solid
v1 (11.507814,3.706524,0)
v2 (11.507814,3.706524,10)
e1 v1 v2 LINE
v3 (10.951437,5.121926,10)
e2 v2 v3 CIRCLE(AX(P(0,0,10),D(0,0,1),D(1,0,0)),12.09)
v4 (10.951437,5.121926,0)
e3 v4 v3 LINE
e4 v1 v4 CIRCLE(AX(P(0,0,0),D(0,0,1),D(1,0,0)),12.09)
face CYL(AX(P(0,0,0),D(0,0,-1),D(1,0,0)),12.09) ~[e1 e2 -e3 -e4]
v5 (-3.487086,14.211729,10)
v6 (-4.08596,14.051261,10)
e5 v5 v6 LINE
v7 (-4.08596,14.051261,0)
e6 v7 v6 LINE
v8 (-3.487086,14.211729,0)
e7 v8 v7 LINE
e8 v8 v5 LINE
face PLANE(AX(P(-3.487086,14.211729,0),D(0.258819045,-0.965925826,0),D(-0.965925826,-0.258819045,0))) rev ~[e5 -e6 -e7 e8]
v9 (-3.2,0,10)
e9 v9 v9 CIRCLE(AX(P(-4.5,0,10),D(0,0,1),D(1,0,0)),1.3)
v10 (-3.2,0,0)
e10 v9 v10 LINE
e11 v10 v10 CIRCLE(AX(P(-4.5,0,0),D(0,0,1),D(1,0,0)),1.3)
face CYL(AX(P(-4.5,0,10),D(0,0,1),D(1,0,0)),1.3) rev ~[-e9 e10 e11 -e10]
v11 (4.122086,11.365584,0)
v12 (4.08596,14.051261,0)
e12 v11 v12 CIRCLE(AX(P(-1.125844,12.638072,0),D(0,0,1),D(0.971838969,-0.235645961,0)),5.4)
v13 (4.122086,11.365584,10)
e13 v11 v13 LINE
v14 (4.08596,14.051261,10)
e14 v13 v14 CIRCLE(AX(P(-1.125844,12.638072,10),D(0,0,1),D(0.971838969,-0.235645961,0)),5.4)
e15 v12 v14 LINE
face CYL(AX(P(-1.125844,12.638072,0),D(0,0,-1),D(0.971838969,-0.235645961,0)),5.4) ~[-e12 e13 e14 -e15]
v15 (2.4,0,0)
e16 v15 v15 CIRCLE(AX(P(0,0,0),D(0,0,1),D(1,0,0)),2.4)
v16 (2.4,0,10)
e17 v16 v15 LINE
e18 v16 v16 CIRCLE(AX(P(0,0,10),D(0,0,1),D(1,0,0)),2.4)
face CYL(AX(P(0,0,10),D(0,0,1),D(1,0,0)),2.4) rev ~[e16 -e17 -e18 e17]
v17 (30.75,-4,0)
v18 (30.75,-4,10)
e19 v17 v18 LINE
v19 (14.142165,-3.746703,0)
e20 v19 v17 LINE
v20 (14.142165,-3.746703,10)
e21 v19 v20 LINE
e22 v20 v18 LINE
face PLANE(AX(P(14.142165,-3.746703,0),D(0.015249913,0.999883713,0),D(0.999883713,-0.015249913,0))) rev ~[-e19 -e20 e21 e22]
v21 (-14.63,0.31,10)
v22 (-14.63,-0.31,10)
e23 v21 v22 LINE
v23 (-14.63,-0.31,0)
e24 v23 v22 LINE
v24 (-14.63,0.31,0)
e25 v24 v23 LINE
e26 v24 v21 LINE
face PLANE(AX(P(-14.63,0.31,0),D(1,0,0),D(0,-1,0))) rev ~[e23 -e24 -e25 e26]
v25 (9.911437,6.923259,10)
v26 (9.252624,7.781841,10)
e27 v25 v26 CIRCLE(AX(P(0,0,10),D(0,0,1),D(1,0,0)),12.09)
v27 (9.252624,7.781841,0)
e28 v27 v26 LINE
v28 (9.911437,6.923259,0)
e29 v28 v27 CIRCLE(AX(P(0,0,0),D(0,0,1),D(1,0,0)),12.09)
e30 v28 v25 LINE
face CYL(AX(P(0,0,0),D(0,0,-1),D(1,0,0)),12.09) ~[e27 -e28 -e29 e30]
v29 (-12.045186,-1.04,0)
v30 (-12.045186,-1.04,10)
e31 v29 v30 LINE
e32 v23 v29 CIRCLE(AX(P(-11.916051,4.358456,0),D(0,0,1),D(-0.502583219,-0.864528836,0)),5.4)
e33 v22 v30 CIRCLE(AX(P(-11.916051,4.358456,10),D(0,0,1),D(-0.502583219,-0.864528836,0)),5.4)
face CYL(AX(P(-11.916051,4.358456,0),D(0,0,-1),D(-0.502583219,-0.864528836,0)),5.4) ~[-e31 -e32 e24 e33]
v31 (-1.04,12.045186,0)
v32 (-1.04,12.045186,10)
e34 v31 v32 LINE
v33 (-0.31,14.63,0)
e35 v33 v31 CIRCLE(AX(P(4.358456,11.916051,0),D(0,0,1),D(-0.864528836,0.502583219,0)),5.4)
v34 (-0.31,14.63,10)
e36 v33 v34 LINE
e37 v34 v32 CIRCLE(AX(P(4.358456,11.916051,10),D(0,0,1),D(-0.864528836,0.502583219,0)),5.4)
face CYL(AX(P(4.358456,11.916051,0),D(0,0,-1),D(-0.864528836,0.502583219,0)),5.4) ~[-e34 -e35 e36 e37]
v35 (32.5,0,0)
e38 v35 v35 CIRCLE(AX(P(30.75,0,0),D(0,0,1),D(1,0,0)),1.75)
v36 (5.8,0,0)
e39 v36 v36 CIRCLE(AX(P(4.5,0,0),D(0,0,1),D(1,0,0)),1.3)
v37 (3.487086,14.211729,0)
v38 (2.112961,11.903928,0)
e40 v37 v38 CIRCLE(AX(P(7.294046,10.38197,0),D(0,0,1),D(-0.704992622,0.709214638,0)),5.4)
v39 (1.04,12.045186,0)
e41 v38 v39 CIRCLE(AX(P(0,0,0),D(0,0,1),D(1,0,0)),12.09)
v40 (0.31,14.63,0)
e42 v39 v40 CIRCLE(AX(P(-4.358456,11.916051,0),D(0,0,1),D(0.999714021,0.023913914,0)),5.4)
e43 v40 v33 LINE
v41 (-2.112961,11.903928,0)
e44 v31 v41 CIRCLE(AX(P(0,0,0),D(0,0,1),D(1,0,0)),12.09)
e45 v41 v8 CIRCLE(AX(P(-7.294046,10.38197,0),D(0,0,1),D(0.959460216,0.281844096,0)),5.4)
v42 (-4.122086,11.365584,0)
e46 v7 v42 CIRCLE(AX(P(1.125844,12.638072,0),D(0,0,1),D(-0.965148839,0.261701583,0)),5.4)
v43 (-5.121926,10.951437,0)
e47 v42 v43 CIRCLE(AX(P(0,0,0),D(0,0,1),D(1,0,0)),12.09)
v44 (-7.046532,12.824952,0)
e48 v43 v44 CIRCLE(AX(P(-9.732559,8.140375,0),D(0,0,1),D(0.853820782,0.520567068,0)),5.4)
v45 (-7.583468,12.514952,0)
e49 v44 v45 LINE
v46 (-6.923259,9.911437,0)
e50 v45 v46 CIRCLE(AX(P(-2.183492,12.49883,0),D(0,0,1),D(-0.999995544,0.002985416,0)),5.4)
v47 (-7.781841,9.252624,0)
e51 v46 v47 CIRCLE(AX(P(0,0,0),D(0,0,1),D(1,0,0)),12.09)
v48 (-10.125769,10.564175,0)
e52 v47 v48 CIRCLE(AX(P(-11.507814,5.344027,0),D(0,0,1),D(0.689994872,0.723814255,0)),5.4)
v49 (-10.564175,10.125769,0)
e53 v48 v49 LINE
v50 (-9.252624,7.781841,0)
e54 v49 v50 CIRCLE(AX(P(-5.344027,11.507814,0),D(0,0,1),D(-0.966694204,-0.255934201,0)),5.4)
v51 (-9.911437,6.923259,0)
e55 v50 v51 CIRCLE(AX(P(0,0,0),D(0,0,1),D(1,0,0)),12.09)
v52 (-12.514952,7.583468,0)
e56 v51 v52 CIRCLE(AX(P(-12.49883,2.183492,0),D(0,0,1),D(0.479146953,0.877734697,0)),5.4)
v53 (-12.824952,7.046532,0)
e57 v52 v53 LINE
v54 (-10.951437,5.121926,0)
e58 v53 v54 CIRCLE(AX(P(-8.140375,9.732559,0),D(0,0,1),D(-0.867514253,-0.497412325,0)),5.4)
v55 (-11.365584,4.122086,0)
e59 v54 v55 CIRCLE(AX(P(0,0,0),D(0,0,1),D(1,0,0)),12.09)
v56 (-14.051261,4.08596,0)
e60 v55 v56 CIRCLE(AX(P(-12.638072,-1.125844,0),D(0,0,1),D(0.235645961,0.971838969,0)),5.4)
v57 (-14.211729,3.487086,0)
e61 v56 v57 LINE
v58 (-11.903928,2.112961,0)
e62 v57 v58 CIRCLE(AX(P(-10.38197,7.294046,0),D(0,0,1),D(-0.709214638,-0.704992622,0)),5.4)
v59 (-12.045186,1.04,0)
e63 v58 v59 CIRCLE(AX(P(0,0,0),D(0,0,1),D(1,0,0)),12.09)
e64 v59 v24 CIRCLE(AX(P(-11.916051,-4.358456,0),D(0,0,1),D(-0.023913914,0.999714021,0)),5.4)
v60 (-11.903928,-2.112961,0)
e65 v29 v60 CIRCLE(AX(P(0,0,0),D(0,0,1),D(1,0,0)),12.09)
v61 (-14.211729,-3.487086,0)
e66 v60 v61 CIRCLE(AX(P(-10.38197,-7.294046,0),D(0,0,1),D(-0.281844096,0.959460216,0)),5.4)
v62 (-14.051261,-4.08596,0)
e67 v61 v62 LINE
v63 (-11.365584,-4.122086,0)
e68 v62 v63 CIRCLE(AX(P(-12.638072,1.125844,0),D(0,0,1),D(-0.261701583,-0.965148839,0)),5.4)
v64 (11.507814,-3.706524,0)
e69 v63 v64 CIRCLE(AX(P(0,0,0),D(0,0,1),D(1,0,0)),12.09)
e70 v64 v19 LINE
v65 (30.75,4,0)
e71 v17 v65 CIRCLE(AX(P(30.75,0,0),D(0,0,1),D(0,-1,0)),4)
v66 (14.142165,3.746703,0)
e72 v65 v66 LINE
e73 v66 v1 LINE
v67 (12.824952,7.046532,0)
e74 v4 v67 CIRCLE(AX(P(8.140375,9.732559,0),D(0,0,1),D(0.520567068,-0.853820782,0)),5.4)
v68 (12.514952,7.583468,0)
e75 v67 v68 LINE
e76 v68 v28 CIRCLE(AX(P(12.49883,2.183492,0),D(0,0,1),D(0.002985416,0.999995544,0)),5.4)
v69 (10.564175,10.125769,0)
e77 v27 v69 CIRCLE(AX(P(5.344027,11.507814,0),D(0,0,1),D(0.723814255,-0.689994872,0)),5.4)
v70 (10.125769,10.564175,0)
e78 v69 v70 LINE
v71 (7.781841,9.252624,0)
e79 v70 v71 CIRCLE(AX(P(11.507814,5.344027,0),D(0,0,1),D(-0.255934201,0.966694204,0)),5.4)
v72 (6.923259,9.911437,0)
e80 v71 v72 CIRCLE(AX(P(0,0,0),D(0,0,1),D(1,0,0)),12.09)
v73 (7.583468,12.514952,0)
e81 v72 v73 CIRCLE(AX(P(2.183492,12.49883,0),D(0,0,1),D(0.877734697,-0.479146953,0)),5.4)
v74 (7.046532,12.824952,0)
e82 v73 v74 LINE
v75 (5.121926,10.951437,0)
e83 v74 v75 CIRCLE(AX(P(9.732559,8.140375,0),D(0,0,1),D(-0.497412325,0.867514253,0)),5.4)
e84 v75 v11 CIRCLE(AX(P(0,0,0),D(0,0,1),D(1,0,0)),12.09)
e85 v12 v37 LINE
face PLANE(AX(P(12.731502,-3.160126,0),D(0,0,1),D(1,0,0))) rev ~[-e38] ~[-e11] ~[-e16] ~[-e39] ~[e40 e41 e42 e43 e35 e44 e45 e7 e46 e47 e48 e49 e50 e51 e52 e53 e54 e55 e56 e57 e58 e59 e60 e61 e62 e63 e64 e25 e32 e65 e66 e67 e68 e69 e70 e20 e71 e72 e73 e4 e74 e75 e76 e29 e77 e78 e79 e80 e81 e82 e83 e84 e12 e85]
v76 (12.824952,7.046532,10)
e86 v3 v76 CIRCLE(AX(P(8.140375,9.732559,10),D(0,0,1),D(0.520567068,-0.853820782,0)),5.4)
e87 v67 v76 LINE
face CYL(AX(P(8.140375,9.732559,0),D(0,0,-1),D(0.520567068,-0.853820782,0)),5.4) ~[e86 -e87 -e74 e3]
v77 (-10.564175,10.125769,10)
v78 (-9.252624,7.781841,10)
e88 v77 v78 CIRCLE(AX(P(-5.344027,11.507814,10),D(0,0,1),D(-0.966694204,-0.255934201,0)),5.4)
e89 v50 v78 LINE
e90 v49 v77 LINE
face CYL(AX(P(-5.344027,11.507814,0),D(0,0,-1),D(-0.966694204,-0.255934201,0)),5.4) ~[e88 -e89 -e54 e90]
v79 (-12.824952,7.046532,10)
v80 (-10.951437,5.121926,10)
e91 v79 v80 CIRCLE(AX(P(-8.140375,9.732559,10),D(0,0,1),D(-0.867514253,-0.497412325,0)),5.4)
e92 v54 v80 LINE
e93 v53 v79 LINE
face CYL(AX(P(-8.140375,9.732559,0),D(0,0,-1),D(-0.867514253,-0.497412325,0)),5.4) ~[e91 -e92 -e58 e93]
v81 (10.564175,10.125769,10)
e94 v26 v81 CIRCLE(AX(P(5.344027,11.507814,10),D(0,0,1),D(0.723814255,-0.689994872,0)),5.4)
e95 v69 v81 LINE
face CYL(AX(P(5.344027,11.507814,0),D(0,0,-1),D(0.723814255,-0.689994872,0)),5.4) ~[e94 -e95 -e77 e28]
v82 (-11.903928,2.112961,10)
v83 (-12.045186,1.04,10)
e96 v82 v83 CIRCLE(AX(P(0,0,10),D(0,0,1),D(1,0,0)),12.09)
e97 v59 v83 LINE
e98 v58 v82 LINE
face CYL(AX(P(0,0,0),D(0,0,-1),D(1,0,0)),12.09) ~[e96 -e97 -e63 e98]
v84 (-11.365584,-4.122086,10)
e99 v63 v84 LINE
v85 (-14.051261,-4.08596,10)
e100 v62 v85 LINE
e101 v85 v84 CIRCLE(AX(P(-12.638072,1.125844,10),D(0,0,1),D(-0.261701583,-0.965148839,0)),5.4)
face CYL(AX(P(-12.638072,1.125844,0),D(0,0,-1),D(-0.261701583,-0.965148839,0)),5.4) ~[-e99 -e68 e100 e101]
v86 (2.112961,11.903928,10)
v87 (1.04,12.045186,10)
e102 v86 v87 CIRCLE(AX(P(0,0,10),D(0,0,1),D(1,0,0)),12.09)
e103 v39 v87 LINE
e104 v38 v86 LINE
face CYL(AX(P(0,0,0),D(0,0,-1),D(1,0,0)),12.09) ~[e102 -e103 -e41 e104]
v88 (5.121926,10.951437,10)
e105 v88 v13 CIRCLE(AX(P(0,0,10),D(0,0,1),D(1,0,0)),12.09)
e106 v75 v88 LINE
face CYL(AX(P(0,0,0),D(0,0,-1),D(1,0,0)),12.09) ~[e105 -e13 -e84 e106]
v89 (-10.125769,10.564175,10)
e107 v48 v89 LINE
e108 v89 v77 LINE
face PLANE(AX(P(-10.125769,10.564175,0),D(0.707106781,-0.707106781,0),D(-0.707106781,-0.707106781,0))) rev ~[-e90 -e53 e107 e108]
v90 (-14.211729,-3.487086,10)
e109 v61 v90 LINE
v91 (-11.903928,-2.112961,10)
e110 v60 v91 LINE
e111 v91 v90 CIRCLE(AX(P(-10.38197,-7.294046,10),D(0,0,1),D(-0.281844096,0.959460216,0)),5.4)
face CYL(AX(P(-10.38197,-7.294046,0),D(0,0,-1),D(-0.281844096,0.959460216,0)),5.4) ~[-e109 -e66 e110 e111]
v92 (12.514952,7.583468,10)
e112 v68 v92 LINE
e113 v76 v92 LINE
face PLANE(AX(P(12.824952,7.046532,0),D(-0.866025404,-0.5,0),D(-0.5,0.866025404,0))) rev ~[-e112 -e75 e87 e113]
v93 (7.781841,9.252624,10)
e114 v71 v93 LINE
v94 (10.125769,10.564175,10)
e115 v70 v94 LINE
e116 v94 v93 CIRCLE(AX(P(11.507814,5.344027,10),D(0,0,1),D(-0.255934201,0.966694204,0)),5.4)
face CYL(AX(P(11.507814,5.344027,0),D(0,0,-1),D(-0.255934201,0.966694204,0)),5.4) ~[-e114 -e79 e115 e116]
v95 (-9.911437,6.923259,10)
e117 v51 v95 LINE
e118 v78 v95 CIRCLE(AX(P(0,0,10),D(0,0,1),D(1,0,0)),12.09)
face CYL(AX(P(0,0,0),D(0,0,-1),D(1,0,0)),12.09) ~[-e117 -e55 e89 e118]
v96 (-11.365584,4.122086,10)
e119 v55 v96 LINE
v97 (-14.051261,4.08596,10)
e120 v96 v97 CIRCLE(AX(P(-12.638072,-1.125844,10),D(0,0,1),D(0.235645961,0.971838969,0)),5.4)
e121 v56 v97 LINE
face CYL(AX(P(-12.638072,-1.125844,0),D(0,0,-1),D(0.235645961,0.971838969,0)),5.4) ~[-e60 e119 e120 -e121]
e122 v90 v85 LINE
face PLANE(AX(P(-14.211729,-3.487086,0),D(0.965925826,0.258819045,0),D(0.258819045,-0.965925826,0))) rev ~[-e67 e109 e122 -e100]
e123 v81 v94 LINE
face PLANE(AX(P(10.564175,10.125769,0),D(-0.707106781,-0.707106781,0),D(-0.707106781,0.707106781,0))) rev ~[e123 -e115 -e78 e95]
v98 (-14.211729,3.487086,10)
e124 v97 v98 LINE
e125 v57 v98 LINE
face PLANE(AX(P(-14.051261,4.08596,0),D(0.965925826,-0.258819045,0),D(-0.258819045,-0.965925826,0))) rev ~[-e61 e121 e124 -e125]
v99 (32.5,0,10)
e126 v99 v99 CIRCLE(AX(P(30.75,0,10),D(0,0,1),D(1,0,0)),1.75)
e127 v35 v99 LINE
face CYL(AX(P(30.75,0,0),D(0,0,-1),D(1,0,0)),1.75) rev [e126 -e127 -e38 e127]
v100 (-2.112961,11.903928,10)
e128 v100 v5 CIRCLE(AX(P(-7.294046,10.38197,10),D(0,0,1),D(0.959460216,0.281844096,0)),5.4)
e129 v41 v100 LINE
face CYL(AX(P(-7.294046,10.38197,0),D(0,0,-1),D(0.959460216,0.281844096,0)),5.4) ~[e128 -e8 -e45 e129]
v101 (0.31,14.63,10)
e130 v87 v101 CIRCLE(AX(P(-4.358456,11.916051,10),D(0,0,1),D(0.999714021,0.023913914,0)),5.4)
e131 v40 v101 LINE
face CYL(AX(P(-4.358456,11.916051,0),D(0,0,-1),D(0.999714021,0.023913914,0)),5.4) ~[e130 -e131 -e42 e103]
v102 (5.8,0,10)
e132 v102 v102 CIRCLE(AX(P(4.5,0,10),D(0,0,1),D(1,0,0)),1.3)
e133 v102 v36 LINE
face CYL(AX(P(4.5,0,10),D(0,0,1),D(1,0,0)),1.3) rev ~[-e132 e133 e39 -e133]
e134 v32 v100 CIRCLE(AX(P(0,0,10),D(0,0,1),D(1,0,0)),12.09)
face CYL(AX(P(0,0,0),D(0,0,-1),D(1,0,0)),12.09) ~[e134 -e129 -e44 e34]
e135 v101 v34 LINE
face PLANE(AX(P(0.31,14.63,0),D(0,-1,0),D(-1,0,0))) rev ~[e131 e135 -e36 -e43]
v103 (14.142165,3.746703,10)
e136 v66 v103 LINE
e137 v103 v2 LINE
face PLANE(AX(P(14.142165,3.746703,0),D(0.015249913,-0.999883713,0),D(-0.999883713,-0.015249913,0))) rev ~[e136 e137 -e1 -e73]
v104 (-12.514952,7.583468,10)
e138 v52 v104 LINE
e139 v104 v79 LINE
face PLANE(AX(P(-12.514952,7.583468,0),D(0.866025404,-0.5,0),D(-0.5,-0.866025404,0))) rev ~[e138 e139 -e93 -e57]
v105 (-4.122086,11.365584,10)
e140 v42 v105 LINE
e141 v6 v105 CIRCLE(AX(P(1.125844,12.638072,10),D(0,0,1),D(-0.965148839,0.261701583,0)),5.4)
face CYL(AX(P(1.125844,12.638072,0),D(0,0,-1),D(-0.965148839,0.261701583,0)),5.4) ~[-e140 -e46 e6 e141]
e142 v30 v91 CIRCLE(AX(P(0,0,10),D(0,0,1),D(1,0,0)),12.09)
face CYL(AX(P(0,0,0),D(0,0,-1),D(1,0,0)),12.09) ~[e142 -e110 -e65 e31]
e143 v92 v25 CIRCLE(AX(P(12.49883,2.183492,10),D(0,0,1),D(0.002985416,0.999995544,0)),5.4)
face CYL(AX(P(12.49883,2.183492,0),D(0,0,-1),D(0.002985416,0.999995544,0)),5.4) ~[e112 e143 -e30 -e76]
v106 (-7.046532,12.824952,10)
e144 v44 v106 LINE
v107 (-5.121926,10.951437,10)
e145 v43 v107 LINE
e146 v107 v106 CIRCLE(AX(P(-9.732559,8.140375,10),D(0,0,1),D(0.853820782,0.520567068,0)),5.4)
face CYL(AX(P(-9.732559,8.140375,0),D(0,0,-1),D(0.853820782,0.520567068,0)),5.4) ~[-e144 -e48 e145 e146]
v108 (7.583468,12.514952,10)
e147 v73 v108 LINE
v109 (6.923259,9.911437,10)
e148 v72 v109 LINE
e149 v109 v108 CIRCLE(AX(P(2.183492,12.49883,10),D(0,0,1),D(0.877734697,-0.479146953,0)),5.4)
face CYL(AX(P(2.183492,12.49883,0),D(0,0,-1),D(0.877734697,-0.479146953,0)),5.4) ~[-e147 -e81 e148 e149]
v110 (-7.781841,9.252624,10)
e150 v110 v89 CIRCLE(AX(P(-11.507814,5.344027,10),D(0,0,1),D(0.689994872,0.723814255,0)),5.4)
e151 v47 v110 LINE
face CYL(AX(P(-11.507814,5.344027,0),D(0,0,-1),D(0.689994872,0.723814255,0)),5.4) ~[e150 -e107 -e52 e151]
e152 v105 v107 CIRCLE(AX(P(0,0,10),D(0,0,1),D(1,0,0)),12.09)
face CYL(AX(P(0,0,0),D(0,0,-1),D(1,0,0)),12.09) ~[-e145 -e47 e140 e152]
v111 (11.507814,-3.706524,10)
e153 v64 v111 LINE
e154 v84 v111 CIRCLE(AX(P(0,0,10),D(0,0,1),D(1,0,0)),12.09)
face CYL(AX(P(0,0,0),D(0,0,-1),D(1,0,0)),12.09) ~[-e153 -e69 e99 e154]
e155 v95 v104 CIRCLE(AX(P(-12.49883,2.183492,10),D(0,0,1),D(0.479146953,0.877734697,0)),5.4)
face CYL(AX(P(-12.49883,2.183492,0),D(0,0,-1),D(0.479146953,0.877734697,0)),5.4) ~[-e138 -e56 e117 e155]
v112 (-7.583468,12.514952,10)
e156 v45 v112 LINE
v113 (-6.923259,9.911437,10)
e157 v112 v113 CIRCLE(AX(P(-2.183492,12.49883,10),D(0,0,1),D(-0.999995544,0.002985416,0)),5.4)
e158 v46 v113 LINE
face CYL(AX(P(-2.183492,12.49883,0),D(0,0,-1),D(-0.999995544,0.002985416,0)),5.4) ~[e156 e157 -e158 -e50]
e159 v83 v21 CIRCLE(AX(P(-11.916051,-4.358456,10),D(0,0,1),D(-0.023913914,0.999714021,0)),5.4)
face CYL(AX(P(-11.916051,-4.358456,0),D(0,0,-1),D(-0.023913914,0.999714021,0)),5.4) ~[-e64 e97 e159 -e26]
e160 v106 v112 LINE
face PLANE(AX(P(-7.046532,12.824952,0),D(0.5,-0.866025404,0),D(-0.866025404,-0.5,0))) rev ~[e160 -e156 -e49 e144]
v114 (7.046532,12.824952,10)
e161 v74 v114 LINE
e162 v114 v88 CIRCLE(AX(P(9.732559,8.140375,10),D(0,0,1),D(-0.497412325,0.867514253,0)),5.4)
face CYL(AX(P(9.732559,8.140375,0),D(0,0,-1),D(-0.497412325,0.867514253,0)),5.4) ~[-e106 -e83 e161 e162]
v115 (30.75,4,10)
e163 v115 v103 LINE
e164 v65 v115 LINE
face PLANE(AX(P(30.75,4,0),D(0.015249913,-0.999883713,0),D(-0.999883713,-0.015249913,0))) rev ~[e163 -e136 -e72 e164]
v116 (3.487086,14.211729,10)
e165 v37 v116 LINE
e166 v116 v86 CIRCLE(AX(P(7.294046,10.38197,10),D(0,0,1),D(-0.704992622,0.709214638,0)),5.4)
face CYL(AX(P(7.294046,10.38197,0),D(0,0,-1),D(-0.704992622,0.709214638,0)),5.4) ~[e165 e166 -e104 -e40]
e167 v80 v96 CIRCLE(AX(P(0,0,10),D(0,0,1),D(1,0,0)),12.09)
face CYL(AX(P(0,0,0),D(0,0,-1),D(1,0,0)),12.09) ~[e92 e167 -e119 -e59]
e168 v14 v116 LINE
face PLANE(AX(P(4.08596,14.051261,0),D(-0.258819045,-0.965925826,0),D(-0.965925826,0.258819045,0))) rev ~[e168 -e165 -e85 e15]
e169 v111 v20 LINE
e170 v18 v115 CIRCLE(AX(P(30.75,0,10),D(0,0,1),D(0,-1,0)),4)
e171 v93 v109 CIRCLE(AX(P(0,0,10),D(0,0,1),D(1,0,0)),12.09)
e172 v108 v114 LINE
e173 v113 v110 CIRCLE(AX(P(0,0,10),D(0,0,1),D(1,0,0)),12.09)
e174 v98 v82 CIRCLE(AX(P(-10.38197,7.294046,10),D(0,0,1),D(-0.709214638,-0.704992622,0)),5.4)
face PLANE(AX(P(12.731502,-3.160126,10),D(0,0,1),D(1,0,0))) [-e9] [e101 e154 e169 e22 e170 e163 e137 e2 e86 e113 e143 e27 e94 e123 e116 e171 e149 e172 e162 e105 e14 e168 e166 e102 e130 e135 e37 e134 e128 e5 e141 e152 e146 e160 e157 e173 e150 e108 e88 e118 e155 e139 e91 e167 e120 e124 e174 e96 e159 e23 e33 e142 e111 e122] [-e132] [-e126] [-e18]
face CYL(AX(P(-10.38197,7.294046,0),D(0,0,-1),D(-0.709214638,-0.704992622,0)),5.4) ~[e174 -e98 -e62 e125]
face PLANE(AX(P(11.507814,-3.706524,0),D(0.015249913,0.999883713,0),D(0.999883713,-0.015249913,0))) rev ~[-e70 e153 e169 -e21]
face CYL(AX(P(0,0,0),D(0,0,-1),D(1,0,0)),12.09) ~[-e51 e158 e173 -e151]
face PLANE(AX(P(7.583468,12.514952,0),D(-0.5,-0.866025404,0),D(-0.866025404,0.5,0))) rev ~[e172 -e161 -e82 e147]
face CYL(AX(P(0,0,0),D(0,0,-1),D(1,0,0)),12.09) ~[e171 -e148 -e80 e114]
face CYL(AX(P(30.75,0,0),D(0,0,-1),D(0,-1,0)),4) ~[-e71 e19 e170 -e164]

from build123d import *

# Parameters (mm, degrees)
SKETCH1_R           = 12.09
SKETCH1_R_2         = 1.75
BOSS_EXTRUDE1_DEPTH = 10
SKETCH2_R           = 2.4
SKETCH2_R_2         = 1.3
CUT_EXTRUDE1_DEPTH  = 40.007683858


with BuildPart() as part:
    # Sketch1 → Boss-Extrude1 (new body)
    # profile 1 of 17: a face of its own
    with BuildSketch(Plane.XY):
        Circle(SKETCH1_R)
        Circle(SKETCH1_R_2, mode=Mode.SUBTRACT)
    # profile 2 of 17: a face of its own
    with BuildSketch(Plane.XY):
        with BuildLine():
            Line((30.75, 4), (14.142164609, 3.746702505))
            Line((14.142164609, 3.746702505), (14.211728743, 3.487085624))
            ThreePointArc((14.211728743, 3.487085624), (13.144626757, 2.65424773), (11.903927815, 2.112960617))
            ThreePointArc((11.903927815, 2.112960617), (11.986568374, 1.578061664), (12.04518576, 1.04))
            ThreePointArc((12.04518576, 1.04), (13.383704325, 0.838273314), (14.63, 0.31))
            Line((14.63, 0.31), (14.63, -0.31))
            ThreePointArc((14.63, -0.31), (13.383704325, -0.838273314), (12.04518576, -1.04))
            ThreePointArc((12.04518576, -1.04), (11.986568374, -1.578061664), (11.903927815, -2.112960617))
            ThreePointArc((11.903927815, -2.112960617), (13.144626757, -2.65424773), (14.211728743, -3.487085624))
            Line((14.211728743, -3.487085624), (14.142164609, -3.746702505))
            Line((14.142164609, -3.746702505), (30.75, -4))
            ThreePointArc((30.75, -4), (34.75, 0), (30.75, 4))
        make_face()
        with Locations((30.75, 0)):
            Circle(SKETCH1_R_2, mode=Mode.SUBTRACT)
    # profile 3 of 17: a face of its own
    with BuildSketch(Plane.XY):
        with BuildLine():
            ThreePointArc((-11.365584201, -4.122086336), (-11.67804324, -3.129122255), (-11.903927815, -2.112960617))
            ThreePointArc((-11.903927815, -2.112960617), (-13.144626757, -2.65424773), (-14.211728743, -3.487085624))
            Line((-14.211728743, -3.487085624), (-14.051260935, -4.085959636))
            ThreePointArc((-14.051260935, -4.085959636), (-12.71070456, -4.273667417), (-11.365584201, -4.122086336))
        make_face()
    # profile 4 of 17: a face of its own
    with BuildSketch(Plane.XY):
        with BuildLine():
            ThreePointArc((-12.04518576, -1.04), (-12.09, 0), (-12.04518576, 1.04))
            ThreePointArc((-12.04518576, 1.04), (-13.383704325, 0.838273314), (-14.63, 0.31))
            Line((-14.63, 0.31), (-14.63, -0.31))
            ThreePointArc((-14.63, -0.31), (-13.383704325, -0.838273314), (-12.04518576, -1.04))
        make_face()
    # profile 5 of 17: a face of its own
    with BuildSketch(Plane.XY):
        with BuildLine():
            ThreePointArc((-11.903927815, 2.112960617), (-11.67804324, 3.129122255), (-11.365584201, 4.122086336))
            ThreePointArc((-11.365584201, 4.122086336), (-12.71070456, 4.273667417), (-14.051260935, 4.085959636))
            Line((-14.051260935, 4.085959636), (-14.211728743, 3.487085624))
            ThreePointArc((-14.211728743, 3.487085624), (-13.144626757, 2.65424773), (-11.903927815, 2.112960617))
        make_face()
    # profile 6 of 17: a face of its own
    with BuildSketch(Plane.XY):
        with BuildLine():
            ThreePointArc((-10.951436862, 5.12192646), (-10.470247132, 6.045), (-9.911436862, 6.9232593))
            ThreePointArc((-9.911436862, 6.9232593), (-11.171491285, 7.417818147), (-12.514951657, 7.583467875))
            Line((-12.514951657, 7.583467875), (-12.824951657, 7.046532125))
            ThreePointArc((-12.824951657, 7.046532125), (-12.009764599, 5.965886177), (-10.951436862, 5.12192646))
        make_face()
    # profile 7 of 17: a face of its own
    with BuildSketch(Plane.XY):
        with BuildLine():
            ThreePointArc((-9.252623584, 7.781841479), (-8.548920985, 8.548920985), (-7.781841479, 9.252623584))
            ThreePointArc((-7.781841479, 9.252623584), (-8.870959341, 10.05645683), (-10.125769107, 10.564175311))
            Line((-10.125769107, 10.564175311), (-10.564175311, 10.125769107))
            ThreePointArc((-10.564175311, 10.125769107), (-10.05645683, 8.870959341), (-9.252623584, 7.781841479))
        make_face()
    # profile 8 of 17: a face of its own
    with BuildSketch(Plane.XY):
        with BuildLine():
            ThreePointArc((-6.9232593, 9.911436862), (-6.045, 10.470247132), (-5.12192646, 10.951436862))
            ThreePointArc((-5.12192646, 10.951436862), (-5.965886177, 12.009764599), (-7.046532125, 12.824951657))
            Line((-7.046532125, 12.824951657), (-7.583467875, 12.514951657))
            ThreePointArc((-7.583467875, 12.514951657), (-7.417818147, 11.171491285), (-6.9232593, 9.911436862))
        make_face()
    # profile 9 of 17: a face of its own
    with BuildSketch(Plane.XY):
        with BuildLine():
            ThreePointArc((-4.122086336, 11.365584201), (-3.129122255, 11.67804324), (-2.112960617, 11.903927815))
            ThreePointArc((-2.112960617, 11.903927815), (-2.65424773, 13.144626757), (-3.487085624, 14.211728743))
            Line((-3.487085624, 14.211728743), (-4.085959636, 14.051260935))
            ThreePointArc((-4.085959636, 14.051260935), (-4.273667417, 12.71070456), (-4.122086336, 11.365584201))
        make_face()
    # profile 10 of 17: a face of its own
    with BuildSketch(Plane.XY):
        with BuildLine():
            Line((0.31, 14.63), (-0.31, 14.63))
            ThreePointArc((-0.31, 14.63), (-0.838273314, 13.383704325), (-1.04, 12.04518576))
            ThreePointArc((-1.04, 12.04518576), (0, 12.09), (1.04, 12.04518576))
            ThreePointArc((1.04, 12.04518576), (0.838273314, 13.383704325), (0.31, 14.63))
        make_face()
    # profile 11 of 17: a face of its own
    with BuildSketch(Plane.XY):
        with BuildLine():
            ThreePointArc((3.487085624, 14.211728743), (2.65424773, 13.144626757), (2.112960617, 11.903927815))
            ThreePointArc((2.112960617, 11.903927815), (3.129122255, 11.67804324), (4.122086336, 11.365584201))
            ThreePointArc((4.122086336, 11.365584201), (4.273667417, 12.71070456), (4.085959636, 14.051260935))
            Line((4.085959636, 14.051260935), (3.487085624, 14.211728743))
        make_face()
    # profile 12 of 17: a face of its own
    with BuildSketch(Plane.XY):
        with BuildLine():
            ThreePointArc((7.046532125, 12.824951657), (5.965886177, 12.009764599), (5.12192646, 10.951436862))
            ThreePointArc((5.12192646, 10.951436862), (6.045, 10.470247132), (6.9232593, 9.911436862))
            ThreePointArc((6.9232593, 9.911436862), (7.417818147, 11.171491285), (7.583467875, 12.514951657))
            Line((7.583467875, 12.514951657), (7.046532125, 12.824951657))
        make_face()
    # profile 13 of 17: a face of its own
    with BuildSketch(Plane.XY):
        with BuildLine():
            ThreePointArc((10.125769107, 10.564175311), (8.870959341, 10.05645683), (7.781841479, 9.252623584))
            ThreePointArc((7.781841479, 9.252623584), (8.548920985, 8.548920985), (9.252623584, 7.781841479))
            ThreePointArc((9.252623584, 7.781841479), (10.05645683, 8.870959341), (10.564175311, 10.125769107))
            Line((10.564175311, 10.125769107), (10.125769107, 10.564175311))
        make_face()
    # profile 14 of 17: a face of its own
    with BuildSketch(Plane.XY):
        with BuildLine():
            ThreePointArc((12.514951657, 7.583467875), (11.171491285, 7.417818147), (9.911436862, 6.9232593))
            ThreePointArc((9.911436862, 6.9232593), (10.470247132, 6.045), (10.951436862, 5.12192646))
            ThreePointArc((10.951436862, 5.12192646), (12.009764599, 5.965886177), (12.824951657, 7.046532125))
            Line((12.824951657, 7.046532125), (12.514951657, 7.583467875))
        make_face()
    # profile 15 of 17: a face of its own
    with BuildSketch(Plane.XY):
        with BuildLine():
            Line((14.142164609, 3.746702505), (11.507813792, 3.706524213))
            ThreePointArc((11.507813792, 3.706524213), (11.732956682, 2.916475184), (11.903927815, 2.112960617))
            ThreePointArc((11.903927815, 2.112960617), (13.144626757, 2.65424773), (14.211728743, 3.487085624))
            Line((14.211728743, 3.487085624), (14.142164609, 3.746702505))
        make_face()
    # profile 16 of 17: a face of its own
    with BuildSketch(Plane.XY):
        with BuildLine():
            ThreePointArc((14.63, 0.31), (13.383704325, 0.838273314), (12.04518576, 1.04))
            ThreePointArc((12.04518576, 1.04), (12.078791244, 0.520482544), (12.09, 0))
            ThreePointArc((12.09, 0), (12.078791244, -0.520482544), (12.04518576, -1.04))
            ThreePointArc((12.04518576, -1.04), (13.383704325, -0.838273314), (14.63, -0.31))
            Line((14.63, -0.31), (14.63, 0.31))
        make_face()
    # profile 17 of 17: a face of its own
    with BuildSketch(Plane.XY):
        with BuildLine():
            Line((11.507813792, -3.706524213), (14.142164609, -3.746702505))
            Line((14.142164609, -3.746702505), (14.211728743, -3.487085624))
            ThreePointArc((14.211728743, -3.487085624), (13.144626757, -2.65424773), (11.903927815, -2.112960617))
            ThreePointArc((11.903927815, -2.112960617), (11.732956682, -2.916475184), (11.507813792, -3.706524213))
        make_face()
    extrude(amount=BOSS_EXTRUDE1_DEPTH)

    # Sketch2 → Cut-Extrude1 (cut, through all)
    with BuildSketch(Plane.XY.offset(10)):
        Circle(SKETCH2_R)
        with Locations((4.5, 0)):
            Circle(SKETCH2_R_2)
        with Locations((-4.5, 0)):
            Circle(SKETCH2_R_2)
    extrude(amount=-CUT_EXTRUDE1_DEPTH, mode=Mode.SUBTRACT)


solid = part.part
